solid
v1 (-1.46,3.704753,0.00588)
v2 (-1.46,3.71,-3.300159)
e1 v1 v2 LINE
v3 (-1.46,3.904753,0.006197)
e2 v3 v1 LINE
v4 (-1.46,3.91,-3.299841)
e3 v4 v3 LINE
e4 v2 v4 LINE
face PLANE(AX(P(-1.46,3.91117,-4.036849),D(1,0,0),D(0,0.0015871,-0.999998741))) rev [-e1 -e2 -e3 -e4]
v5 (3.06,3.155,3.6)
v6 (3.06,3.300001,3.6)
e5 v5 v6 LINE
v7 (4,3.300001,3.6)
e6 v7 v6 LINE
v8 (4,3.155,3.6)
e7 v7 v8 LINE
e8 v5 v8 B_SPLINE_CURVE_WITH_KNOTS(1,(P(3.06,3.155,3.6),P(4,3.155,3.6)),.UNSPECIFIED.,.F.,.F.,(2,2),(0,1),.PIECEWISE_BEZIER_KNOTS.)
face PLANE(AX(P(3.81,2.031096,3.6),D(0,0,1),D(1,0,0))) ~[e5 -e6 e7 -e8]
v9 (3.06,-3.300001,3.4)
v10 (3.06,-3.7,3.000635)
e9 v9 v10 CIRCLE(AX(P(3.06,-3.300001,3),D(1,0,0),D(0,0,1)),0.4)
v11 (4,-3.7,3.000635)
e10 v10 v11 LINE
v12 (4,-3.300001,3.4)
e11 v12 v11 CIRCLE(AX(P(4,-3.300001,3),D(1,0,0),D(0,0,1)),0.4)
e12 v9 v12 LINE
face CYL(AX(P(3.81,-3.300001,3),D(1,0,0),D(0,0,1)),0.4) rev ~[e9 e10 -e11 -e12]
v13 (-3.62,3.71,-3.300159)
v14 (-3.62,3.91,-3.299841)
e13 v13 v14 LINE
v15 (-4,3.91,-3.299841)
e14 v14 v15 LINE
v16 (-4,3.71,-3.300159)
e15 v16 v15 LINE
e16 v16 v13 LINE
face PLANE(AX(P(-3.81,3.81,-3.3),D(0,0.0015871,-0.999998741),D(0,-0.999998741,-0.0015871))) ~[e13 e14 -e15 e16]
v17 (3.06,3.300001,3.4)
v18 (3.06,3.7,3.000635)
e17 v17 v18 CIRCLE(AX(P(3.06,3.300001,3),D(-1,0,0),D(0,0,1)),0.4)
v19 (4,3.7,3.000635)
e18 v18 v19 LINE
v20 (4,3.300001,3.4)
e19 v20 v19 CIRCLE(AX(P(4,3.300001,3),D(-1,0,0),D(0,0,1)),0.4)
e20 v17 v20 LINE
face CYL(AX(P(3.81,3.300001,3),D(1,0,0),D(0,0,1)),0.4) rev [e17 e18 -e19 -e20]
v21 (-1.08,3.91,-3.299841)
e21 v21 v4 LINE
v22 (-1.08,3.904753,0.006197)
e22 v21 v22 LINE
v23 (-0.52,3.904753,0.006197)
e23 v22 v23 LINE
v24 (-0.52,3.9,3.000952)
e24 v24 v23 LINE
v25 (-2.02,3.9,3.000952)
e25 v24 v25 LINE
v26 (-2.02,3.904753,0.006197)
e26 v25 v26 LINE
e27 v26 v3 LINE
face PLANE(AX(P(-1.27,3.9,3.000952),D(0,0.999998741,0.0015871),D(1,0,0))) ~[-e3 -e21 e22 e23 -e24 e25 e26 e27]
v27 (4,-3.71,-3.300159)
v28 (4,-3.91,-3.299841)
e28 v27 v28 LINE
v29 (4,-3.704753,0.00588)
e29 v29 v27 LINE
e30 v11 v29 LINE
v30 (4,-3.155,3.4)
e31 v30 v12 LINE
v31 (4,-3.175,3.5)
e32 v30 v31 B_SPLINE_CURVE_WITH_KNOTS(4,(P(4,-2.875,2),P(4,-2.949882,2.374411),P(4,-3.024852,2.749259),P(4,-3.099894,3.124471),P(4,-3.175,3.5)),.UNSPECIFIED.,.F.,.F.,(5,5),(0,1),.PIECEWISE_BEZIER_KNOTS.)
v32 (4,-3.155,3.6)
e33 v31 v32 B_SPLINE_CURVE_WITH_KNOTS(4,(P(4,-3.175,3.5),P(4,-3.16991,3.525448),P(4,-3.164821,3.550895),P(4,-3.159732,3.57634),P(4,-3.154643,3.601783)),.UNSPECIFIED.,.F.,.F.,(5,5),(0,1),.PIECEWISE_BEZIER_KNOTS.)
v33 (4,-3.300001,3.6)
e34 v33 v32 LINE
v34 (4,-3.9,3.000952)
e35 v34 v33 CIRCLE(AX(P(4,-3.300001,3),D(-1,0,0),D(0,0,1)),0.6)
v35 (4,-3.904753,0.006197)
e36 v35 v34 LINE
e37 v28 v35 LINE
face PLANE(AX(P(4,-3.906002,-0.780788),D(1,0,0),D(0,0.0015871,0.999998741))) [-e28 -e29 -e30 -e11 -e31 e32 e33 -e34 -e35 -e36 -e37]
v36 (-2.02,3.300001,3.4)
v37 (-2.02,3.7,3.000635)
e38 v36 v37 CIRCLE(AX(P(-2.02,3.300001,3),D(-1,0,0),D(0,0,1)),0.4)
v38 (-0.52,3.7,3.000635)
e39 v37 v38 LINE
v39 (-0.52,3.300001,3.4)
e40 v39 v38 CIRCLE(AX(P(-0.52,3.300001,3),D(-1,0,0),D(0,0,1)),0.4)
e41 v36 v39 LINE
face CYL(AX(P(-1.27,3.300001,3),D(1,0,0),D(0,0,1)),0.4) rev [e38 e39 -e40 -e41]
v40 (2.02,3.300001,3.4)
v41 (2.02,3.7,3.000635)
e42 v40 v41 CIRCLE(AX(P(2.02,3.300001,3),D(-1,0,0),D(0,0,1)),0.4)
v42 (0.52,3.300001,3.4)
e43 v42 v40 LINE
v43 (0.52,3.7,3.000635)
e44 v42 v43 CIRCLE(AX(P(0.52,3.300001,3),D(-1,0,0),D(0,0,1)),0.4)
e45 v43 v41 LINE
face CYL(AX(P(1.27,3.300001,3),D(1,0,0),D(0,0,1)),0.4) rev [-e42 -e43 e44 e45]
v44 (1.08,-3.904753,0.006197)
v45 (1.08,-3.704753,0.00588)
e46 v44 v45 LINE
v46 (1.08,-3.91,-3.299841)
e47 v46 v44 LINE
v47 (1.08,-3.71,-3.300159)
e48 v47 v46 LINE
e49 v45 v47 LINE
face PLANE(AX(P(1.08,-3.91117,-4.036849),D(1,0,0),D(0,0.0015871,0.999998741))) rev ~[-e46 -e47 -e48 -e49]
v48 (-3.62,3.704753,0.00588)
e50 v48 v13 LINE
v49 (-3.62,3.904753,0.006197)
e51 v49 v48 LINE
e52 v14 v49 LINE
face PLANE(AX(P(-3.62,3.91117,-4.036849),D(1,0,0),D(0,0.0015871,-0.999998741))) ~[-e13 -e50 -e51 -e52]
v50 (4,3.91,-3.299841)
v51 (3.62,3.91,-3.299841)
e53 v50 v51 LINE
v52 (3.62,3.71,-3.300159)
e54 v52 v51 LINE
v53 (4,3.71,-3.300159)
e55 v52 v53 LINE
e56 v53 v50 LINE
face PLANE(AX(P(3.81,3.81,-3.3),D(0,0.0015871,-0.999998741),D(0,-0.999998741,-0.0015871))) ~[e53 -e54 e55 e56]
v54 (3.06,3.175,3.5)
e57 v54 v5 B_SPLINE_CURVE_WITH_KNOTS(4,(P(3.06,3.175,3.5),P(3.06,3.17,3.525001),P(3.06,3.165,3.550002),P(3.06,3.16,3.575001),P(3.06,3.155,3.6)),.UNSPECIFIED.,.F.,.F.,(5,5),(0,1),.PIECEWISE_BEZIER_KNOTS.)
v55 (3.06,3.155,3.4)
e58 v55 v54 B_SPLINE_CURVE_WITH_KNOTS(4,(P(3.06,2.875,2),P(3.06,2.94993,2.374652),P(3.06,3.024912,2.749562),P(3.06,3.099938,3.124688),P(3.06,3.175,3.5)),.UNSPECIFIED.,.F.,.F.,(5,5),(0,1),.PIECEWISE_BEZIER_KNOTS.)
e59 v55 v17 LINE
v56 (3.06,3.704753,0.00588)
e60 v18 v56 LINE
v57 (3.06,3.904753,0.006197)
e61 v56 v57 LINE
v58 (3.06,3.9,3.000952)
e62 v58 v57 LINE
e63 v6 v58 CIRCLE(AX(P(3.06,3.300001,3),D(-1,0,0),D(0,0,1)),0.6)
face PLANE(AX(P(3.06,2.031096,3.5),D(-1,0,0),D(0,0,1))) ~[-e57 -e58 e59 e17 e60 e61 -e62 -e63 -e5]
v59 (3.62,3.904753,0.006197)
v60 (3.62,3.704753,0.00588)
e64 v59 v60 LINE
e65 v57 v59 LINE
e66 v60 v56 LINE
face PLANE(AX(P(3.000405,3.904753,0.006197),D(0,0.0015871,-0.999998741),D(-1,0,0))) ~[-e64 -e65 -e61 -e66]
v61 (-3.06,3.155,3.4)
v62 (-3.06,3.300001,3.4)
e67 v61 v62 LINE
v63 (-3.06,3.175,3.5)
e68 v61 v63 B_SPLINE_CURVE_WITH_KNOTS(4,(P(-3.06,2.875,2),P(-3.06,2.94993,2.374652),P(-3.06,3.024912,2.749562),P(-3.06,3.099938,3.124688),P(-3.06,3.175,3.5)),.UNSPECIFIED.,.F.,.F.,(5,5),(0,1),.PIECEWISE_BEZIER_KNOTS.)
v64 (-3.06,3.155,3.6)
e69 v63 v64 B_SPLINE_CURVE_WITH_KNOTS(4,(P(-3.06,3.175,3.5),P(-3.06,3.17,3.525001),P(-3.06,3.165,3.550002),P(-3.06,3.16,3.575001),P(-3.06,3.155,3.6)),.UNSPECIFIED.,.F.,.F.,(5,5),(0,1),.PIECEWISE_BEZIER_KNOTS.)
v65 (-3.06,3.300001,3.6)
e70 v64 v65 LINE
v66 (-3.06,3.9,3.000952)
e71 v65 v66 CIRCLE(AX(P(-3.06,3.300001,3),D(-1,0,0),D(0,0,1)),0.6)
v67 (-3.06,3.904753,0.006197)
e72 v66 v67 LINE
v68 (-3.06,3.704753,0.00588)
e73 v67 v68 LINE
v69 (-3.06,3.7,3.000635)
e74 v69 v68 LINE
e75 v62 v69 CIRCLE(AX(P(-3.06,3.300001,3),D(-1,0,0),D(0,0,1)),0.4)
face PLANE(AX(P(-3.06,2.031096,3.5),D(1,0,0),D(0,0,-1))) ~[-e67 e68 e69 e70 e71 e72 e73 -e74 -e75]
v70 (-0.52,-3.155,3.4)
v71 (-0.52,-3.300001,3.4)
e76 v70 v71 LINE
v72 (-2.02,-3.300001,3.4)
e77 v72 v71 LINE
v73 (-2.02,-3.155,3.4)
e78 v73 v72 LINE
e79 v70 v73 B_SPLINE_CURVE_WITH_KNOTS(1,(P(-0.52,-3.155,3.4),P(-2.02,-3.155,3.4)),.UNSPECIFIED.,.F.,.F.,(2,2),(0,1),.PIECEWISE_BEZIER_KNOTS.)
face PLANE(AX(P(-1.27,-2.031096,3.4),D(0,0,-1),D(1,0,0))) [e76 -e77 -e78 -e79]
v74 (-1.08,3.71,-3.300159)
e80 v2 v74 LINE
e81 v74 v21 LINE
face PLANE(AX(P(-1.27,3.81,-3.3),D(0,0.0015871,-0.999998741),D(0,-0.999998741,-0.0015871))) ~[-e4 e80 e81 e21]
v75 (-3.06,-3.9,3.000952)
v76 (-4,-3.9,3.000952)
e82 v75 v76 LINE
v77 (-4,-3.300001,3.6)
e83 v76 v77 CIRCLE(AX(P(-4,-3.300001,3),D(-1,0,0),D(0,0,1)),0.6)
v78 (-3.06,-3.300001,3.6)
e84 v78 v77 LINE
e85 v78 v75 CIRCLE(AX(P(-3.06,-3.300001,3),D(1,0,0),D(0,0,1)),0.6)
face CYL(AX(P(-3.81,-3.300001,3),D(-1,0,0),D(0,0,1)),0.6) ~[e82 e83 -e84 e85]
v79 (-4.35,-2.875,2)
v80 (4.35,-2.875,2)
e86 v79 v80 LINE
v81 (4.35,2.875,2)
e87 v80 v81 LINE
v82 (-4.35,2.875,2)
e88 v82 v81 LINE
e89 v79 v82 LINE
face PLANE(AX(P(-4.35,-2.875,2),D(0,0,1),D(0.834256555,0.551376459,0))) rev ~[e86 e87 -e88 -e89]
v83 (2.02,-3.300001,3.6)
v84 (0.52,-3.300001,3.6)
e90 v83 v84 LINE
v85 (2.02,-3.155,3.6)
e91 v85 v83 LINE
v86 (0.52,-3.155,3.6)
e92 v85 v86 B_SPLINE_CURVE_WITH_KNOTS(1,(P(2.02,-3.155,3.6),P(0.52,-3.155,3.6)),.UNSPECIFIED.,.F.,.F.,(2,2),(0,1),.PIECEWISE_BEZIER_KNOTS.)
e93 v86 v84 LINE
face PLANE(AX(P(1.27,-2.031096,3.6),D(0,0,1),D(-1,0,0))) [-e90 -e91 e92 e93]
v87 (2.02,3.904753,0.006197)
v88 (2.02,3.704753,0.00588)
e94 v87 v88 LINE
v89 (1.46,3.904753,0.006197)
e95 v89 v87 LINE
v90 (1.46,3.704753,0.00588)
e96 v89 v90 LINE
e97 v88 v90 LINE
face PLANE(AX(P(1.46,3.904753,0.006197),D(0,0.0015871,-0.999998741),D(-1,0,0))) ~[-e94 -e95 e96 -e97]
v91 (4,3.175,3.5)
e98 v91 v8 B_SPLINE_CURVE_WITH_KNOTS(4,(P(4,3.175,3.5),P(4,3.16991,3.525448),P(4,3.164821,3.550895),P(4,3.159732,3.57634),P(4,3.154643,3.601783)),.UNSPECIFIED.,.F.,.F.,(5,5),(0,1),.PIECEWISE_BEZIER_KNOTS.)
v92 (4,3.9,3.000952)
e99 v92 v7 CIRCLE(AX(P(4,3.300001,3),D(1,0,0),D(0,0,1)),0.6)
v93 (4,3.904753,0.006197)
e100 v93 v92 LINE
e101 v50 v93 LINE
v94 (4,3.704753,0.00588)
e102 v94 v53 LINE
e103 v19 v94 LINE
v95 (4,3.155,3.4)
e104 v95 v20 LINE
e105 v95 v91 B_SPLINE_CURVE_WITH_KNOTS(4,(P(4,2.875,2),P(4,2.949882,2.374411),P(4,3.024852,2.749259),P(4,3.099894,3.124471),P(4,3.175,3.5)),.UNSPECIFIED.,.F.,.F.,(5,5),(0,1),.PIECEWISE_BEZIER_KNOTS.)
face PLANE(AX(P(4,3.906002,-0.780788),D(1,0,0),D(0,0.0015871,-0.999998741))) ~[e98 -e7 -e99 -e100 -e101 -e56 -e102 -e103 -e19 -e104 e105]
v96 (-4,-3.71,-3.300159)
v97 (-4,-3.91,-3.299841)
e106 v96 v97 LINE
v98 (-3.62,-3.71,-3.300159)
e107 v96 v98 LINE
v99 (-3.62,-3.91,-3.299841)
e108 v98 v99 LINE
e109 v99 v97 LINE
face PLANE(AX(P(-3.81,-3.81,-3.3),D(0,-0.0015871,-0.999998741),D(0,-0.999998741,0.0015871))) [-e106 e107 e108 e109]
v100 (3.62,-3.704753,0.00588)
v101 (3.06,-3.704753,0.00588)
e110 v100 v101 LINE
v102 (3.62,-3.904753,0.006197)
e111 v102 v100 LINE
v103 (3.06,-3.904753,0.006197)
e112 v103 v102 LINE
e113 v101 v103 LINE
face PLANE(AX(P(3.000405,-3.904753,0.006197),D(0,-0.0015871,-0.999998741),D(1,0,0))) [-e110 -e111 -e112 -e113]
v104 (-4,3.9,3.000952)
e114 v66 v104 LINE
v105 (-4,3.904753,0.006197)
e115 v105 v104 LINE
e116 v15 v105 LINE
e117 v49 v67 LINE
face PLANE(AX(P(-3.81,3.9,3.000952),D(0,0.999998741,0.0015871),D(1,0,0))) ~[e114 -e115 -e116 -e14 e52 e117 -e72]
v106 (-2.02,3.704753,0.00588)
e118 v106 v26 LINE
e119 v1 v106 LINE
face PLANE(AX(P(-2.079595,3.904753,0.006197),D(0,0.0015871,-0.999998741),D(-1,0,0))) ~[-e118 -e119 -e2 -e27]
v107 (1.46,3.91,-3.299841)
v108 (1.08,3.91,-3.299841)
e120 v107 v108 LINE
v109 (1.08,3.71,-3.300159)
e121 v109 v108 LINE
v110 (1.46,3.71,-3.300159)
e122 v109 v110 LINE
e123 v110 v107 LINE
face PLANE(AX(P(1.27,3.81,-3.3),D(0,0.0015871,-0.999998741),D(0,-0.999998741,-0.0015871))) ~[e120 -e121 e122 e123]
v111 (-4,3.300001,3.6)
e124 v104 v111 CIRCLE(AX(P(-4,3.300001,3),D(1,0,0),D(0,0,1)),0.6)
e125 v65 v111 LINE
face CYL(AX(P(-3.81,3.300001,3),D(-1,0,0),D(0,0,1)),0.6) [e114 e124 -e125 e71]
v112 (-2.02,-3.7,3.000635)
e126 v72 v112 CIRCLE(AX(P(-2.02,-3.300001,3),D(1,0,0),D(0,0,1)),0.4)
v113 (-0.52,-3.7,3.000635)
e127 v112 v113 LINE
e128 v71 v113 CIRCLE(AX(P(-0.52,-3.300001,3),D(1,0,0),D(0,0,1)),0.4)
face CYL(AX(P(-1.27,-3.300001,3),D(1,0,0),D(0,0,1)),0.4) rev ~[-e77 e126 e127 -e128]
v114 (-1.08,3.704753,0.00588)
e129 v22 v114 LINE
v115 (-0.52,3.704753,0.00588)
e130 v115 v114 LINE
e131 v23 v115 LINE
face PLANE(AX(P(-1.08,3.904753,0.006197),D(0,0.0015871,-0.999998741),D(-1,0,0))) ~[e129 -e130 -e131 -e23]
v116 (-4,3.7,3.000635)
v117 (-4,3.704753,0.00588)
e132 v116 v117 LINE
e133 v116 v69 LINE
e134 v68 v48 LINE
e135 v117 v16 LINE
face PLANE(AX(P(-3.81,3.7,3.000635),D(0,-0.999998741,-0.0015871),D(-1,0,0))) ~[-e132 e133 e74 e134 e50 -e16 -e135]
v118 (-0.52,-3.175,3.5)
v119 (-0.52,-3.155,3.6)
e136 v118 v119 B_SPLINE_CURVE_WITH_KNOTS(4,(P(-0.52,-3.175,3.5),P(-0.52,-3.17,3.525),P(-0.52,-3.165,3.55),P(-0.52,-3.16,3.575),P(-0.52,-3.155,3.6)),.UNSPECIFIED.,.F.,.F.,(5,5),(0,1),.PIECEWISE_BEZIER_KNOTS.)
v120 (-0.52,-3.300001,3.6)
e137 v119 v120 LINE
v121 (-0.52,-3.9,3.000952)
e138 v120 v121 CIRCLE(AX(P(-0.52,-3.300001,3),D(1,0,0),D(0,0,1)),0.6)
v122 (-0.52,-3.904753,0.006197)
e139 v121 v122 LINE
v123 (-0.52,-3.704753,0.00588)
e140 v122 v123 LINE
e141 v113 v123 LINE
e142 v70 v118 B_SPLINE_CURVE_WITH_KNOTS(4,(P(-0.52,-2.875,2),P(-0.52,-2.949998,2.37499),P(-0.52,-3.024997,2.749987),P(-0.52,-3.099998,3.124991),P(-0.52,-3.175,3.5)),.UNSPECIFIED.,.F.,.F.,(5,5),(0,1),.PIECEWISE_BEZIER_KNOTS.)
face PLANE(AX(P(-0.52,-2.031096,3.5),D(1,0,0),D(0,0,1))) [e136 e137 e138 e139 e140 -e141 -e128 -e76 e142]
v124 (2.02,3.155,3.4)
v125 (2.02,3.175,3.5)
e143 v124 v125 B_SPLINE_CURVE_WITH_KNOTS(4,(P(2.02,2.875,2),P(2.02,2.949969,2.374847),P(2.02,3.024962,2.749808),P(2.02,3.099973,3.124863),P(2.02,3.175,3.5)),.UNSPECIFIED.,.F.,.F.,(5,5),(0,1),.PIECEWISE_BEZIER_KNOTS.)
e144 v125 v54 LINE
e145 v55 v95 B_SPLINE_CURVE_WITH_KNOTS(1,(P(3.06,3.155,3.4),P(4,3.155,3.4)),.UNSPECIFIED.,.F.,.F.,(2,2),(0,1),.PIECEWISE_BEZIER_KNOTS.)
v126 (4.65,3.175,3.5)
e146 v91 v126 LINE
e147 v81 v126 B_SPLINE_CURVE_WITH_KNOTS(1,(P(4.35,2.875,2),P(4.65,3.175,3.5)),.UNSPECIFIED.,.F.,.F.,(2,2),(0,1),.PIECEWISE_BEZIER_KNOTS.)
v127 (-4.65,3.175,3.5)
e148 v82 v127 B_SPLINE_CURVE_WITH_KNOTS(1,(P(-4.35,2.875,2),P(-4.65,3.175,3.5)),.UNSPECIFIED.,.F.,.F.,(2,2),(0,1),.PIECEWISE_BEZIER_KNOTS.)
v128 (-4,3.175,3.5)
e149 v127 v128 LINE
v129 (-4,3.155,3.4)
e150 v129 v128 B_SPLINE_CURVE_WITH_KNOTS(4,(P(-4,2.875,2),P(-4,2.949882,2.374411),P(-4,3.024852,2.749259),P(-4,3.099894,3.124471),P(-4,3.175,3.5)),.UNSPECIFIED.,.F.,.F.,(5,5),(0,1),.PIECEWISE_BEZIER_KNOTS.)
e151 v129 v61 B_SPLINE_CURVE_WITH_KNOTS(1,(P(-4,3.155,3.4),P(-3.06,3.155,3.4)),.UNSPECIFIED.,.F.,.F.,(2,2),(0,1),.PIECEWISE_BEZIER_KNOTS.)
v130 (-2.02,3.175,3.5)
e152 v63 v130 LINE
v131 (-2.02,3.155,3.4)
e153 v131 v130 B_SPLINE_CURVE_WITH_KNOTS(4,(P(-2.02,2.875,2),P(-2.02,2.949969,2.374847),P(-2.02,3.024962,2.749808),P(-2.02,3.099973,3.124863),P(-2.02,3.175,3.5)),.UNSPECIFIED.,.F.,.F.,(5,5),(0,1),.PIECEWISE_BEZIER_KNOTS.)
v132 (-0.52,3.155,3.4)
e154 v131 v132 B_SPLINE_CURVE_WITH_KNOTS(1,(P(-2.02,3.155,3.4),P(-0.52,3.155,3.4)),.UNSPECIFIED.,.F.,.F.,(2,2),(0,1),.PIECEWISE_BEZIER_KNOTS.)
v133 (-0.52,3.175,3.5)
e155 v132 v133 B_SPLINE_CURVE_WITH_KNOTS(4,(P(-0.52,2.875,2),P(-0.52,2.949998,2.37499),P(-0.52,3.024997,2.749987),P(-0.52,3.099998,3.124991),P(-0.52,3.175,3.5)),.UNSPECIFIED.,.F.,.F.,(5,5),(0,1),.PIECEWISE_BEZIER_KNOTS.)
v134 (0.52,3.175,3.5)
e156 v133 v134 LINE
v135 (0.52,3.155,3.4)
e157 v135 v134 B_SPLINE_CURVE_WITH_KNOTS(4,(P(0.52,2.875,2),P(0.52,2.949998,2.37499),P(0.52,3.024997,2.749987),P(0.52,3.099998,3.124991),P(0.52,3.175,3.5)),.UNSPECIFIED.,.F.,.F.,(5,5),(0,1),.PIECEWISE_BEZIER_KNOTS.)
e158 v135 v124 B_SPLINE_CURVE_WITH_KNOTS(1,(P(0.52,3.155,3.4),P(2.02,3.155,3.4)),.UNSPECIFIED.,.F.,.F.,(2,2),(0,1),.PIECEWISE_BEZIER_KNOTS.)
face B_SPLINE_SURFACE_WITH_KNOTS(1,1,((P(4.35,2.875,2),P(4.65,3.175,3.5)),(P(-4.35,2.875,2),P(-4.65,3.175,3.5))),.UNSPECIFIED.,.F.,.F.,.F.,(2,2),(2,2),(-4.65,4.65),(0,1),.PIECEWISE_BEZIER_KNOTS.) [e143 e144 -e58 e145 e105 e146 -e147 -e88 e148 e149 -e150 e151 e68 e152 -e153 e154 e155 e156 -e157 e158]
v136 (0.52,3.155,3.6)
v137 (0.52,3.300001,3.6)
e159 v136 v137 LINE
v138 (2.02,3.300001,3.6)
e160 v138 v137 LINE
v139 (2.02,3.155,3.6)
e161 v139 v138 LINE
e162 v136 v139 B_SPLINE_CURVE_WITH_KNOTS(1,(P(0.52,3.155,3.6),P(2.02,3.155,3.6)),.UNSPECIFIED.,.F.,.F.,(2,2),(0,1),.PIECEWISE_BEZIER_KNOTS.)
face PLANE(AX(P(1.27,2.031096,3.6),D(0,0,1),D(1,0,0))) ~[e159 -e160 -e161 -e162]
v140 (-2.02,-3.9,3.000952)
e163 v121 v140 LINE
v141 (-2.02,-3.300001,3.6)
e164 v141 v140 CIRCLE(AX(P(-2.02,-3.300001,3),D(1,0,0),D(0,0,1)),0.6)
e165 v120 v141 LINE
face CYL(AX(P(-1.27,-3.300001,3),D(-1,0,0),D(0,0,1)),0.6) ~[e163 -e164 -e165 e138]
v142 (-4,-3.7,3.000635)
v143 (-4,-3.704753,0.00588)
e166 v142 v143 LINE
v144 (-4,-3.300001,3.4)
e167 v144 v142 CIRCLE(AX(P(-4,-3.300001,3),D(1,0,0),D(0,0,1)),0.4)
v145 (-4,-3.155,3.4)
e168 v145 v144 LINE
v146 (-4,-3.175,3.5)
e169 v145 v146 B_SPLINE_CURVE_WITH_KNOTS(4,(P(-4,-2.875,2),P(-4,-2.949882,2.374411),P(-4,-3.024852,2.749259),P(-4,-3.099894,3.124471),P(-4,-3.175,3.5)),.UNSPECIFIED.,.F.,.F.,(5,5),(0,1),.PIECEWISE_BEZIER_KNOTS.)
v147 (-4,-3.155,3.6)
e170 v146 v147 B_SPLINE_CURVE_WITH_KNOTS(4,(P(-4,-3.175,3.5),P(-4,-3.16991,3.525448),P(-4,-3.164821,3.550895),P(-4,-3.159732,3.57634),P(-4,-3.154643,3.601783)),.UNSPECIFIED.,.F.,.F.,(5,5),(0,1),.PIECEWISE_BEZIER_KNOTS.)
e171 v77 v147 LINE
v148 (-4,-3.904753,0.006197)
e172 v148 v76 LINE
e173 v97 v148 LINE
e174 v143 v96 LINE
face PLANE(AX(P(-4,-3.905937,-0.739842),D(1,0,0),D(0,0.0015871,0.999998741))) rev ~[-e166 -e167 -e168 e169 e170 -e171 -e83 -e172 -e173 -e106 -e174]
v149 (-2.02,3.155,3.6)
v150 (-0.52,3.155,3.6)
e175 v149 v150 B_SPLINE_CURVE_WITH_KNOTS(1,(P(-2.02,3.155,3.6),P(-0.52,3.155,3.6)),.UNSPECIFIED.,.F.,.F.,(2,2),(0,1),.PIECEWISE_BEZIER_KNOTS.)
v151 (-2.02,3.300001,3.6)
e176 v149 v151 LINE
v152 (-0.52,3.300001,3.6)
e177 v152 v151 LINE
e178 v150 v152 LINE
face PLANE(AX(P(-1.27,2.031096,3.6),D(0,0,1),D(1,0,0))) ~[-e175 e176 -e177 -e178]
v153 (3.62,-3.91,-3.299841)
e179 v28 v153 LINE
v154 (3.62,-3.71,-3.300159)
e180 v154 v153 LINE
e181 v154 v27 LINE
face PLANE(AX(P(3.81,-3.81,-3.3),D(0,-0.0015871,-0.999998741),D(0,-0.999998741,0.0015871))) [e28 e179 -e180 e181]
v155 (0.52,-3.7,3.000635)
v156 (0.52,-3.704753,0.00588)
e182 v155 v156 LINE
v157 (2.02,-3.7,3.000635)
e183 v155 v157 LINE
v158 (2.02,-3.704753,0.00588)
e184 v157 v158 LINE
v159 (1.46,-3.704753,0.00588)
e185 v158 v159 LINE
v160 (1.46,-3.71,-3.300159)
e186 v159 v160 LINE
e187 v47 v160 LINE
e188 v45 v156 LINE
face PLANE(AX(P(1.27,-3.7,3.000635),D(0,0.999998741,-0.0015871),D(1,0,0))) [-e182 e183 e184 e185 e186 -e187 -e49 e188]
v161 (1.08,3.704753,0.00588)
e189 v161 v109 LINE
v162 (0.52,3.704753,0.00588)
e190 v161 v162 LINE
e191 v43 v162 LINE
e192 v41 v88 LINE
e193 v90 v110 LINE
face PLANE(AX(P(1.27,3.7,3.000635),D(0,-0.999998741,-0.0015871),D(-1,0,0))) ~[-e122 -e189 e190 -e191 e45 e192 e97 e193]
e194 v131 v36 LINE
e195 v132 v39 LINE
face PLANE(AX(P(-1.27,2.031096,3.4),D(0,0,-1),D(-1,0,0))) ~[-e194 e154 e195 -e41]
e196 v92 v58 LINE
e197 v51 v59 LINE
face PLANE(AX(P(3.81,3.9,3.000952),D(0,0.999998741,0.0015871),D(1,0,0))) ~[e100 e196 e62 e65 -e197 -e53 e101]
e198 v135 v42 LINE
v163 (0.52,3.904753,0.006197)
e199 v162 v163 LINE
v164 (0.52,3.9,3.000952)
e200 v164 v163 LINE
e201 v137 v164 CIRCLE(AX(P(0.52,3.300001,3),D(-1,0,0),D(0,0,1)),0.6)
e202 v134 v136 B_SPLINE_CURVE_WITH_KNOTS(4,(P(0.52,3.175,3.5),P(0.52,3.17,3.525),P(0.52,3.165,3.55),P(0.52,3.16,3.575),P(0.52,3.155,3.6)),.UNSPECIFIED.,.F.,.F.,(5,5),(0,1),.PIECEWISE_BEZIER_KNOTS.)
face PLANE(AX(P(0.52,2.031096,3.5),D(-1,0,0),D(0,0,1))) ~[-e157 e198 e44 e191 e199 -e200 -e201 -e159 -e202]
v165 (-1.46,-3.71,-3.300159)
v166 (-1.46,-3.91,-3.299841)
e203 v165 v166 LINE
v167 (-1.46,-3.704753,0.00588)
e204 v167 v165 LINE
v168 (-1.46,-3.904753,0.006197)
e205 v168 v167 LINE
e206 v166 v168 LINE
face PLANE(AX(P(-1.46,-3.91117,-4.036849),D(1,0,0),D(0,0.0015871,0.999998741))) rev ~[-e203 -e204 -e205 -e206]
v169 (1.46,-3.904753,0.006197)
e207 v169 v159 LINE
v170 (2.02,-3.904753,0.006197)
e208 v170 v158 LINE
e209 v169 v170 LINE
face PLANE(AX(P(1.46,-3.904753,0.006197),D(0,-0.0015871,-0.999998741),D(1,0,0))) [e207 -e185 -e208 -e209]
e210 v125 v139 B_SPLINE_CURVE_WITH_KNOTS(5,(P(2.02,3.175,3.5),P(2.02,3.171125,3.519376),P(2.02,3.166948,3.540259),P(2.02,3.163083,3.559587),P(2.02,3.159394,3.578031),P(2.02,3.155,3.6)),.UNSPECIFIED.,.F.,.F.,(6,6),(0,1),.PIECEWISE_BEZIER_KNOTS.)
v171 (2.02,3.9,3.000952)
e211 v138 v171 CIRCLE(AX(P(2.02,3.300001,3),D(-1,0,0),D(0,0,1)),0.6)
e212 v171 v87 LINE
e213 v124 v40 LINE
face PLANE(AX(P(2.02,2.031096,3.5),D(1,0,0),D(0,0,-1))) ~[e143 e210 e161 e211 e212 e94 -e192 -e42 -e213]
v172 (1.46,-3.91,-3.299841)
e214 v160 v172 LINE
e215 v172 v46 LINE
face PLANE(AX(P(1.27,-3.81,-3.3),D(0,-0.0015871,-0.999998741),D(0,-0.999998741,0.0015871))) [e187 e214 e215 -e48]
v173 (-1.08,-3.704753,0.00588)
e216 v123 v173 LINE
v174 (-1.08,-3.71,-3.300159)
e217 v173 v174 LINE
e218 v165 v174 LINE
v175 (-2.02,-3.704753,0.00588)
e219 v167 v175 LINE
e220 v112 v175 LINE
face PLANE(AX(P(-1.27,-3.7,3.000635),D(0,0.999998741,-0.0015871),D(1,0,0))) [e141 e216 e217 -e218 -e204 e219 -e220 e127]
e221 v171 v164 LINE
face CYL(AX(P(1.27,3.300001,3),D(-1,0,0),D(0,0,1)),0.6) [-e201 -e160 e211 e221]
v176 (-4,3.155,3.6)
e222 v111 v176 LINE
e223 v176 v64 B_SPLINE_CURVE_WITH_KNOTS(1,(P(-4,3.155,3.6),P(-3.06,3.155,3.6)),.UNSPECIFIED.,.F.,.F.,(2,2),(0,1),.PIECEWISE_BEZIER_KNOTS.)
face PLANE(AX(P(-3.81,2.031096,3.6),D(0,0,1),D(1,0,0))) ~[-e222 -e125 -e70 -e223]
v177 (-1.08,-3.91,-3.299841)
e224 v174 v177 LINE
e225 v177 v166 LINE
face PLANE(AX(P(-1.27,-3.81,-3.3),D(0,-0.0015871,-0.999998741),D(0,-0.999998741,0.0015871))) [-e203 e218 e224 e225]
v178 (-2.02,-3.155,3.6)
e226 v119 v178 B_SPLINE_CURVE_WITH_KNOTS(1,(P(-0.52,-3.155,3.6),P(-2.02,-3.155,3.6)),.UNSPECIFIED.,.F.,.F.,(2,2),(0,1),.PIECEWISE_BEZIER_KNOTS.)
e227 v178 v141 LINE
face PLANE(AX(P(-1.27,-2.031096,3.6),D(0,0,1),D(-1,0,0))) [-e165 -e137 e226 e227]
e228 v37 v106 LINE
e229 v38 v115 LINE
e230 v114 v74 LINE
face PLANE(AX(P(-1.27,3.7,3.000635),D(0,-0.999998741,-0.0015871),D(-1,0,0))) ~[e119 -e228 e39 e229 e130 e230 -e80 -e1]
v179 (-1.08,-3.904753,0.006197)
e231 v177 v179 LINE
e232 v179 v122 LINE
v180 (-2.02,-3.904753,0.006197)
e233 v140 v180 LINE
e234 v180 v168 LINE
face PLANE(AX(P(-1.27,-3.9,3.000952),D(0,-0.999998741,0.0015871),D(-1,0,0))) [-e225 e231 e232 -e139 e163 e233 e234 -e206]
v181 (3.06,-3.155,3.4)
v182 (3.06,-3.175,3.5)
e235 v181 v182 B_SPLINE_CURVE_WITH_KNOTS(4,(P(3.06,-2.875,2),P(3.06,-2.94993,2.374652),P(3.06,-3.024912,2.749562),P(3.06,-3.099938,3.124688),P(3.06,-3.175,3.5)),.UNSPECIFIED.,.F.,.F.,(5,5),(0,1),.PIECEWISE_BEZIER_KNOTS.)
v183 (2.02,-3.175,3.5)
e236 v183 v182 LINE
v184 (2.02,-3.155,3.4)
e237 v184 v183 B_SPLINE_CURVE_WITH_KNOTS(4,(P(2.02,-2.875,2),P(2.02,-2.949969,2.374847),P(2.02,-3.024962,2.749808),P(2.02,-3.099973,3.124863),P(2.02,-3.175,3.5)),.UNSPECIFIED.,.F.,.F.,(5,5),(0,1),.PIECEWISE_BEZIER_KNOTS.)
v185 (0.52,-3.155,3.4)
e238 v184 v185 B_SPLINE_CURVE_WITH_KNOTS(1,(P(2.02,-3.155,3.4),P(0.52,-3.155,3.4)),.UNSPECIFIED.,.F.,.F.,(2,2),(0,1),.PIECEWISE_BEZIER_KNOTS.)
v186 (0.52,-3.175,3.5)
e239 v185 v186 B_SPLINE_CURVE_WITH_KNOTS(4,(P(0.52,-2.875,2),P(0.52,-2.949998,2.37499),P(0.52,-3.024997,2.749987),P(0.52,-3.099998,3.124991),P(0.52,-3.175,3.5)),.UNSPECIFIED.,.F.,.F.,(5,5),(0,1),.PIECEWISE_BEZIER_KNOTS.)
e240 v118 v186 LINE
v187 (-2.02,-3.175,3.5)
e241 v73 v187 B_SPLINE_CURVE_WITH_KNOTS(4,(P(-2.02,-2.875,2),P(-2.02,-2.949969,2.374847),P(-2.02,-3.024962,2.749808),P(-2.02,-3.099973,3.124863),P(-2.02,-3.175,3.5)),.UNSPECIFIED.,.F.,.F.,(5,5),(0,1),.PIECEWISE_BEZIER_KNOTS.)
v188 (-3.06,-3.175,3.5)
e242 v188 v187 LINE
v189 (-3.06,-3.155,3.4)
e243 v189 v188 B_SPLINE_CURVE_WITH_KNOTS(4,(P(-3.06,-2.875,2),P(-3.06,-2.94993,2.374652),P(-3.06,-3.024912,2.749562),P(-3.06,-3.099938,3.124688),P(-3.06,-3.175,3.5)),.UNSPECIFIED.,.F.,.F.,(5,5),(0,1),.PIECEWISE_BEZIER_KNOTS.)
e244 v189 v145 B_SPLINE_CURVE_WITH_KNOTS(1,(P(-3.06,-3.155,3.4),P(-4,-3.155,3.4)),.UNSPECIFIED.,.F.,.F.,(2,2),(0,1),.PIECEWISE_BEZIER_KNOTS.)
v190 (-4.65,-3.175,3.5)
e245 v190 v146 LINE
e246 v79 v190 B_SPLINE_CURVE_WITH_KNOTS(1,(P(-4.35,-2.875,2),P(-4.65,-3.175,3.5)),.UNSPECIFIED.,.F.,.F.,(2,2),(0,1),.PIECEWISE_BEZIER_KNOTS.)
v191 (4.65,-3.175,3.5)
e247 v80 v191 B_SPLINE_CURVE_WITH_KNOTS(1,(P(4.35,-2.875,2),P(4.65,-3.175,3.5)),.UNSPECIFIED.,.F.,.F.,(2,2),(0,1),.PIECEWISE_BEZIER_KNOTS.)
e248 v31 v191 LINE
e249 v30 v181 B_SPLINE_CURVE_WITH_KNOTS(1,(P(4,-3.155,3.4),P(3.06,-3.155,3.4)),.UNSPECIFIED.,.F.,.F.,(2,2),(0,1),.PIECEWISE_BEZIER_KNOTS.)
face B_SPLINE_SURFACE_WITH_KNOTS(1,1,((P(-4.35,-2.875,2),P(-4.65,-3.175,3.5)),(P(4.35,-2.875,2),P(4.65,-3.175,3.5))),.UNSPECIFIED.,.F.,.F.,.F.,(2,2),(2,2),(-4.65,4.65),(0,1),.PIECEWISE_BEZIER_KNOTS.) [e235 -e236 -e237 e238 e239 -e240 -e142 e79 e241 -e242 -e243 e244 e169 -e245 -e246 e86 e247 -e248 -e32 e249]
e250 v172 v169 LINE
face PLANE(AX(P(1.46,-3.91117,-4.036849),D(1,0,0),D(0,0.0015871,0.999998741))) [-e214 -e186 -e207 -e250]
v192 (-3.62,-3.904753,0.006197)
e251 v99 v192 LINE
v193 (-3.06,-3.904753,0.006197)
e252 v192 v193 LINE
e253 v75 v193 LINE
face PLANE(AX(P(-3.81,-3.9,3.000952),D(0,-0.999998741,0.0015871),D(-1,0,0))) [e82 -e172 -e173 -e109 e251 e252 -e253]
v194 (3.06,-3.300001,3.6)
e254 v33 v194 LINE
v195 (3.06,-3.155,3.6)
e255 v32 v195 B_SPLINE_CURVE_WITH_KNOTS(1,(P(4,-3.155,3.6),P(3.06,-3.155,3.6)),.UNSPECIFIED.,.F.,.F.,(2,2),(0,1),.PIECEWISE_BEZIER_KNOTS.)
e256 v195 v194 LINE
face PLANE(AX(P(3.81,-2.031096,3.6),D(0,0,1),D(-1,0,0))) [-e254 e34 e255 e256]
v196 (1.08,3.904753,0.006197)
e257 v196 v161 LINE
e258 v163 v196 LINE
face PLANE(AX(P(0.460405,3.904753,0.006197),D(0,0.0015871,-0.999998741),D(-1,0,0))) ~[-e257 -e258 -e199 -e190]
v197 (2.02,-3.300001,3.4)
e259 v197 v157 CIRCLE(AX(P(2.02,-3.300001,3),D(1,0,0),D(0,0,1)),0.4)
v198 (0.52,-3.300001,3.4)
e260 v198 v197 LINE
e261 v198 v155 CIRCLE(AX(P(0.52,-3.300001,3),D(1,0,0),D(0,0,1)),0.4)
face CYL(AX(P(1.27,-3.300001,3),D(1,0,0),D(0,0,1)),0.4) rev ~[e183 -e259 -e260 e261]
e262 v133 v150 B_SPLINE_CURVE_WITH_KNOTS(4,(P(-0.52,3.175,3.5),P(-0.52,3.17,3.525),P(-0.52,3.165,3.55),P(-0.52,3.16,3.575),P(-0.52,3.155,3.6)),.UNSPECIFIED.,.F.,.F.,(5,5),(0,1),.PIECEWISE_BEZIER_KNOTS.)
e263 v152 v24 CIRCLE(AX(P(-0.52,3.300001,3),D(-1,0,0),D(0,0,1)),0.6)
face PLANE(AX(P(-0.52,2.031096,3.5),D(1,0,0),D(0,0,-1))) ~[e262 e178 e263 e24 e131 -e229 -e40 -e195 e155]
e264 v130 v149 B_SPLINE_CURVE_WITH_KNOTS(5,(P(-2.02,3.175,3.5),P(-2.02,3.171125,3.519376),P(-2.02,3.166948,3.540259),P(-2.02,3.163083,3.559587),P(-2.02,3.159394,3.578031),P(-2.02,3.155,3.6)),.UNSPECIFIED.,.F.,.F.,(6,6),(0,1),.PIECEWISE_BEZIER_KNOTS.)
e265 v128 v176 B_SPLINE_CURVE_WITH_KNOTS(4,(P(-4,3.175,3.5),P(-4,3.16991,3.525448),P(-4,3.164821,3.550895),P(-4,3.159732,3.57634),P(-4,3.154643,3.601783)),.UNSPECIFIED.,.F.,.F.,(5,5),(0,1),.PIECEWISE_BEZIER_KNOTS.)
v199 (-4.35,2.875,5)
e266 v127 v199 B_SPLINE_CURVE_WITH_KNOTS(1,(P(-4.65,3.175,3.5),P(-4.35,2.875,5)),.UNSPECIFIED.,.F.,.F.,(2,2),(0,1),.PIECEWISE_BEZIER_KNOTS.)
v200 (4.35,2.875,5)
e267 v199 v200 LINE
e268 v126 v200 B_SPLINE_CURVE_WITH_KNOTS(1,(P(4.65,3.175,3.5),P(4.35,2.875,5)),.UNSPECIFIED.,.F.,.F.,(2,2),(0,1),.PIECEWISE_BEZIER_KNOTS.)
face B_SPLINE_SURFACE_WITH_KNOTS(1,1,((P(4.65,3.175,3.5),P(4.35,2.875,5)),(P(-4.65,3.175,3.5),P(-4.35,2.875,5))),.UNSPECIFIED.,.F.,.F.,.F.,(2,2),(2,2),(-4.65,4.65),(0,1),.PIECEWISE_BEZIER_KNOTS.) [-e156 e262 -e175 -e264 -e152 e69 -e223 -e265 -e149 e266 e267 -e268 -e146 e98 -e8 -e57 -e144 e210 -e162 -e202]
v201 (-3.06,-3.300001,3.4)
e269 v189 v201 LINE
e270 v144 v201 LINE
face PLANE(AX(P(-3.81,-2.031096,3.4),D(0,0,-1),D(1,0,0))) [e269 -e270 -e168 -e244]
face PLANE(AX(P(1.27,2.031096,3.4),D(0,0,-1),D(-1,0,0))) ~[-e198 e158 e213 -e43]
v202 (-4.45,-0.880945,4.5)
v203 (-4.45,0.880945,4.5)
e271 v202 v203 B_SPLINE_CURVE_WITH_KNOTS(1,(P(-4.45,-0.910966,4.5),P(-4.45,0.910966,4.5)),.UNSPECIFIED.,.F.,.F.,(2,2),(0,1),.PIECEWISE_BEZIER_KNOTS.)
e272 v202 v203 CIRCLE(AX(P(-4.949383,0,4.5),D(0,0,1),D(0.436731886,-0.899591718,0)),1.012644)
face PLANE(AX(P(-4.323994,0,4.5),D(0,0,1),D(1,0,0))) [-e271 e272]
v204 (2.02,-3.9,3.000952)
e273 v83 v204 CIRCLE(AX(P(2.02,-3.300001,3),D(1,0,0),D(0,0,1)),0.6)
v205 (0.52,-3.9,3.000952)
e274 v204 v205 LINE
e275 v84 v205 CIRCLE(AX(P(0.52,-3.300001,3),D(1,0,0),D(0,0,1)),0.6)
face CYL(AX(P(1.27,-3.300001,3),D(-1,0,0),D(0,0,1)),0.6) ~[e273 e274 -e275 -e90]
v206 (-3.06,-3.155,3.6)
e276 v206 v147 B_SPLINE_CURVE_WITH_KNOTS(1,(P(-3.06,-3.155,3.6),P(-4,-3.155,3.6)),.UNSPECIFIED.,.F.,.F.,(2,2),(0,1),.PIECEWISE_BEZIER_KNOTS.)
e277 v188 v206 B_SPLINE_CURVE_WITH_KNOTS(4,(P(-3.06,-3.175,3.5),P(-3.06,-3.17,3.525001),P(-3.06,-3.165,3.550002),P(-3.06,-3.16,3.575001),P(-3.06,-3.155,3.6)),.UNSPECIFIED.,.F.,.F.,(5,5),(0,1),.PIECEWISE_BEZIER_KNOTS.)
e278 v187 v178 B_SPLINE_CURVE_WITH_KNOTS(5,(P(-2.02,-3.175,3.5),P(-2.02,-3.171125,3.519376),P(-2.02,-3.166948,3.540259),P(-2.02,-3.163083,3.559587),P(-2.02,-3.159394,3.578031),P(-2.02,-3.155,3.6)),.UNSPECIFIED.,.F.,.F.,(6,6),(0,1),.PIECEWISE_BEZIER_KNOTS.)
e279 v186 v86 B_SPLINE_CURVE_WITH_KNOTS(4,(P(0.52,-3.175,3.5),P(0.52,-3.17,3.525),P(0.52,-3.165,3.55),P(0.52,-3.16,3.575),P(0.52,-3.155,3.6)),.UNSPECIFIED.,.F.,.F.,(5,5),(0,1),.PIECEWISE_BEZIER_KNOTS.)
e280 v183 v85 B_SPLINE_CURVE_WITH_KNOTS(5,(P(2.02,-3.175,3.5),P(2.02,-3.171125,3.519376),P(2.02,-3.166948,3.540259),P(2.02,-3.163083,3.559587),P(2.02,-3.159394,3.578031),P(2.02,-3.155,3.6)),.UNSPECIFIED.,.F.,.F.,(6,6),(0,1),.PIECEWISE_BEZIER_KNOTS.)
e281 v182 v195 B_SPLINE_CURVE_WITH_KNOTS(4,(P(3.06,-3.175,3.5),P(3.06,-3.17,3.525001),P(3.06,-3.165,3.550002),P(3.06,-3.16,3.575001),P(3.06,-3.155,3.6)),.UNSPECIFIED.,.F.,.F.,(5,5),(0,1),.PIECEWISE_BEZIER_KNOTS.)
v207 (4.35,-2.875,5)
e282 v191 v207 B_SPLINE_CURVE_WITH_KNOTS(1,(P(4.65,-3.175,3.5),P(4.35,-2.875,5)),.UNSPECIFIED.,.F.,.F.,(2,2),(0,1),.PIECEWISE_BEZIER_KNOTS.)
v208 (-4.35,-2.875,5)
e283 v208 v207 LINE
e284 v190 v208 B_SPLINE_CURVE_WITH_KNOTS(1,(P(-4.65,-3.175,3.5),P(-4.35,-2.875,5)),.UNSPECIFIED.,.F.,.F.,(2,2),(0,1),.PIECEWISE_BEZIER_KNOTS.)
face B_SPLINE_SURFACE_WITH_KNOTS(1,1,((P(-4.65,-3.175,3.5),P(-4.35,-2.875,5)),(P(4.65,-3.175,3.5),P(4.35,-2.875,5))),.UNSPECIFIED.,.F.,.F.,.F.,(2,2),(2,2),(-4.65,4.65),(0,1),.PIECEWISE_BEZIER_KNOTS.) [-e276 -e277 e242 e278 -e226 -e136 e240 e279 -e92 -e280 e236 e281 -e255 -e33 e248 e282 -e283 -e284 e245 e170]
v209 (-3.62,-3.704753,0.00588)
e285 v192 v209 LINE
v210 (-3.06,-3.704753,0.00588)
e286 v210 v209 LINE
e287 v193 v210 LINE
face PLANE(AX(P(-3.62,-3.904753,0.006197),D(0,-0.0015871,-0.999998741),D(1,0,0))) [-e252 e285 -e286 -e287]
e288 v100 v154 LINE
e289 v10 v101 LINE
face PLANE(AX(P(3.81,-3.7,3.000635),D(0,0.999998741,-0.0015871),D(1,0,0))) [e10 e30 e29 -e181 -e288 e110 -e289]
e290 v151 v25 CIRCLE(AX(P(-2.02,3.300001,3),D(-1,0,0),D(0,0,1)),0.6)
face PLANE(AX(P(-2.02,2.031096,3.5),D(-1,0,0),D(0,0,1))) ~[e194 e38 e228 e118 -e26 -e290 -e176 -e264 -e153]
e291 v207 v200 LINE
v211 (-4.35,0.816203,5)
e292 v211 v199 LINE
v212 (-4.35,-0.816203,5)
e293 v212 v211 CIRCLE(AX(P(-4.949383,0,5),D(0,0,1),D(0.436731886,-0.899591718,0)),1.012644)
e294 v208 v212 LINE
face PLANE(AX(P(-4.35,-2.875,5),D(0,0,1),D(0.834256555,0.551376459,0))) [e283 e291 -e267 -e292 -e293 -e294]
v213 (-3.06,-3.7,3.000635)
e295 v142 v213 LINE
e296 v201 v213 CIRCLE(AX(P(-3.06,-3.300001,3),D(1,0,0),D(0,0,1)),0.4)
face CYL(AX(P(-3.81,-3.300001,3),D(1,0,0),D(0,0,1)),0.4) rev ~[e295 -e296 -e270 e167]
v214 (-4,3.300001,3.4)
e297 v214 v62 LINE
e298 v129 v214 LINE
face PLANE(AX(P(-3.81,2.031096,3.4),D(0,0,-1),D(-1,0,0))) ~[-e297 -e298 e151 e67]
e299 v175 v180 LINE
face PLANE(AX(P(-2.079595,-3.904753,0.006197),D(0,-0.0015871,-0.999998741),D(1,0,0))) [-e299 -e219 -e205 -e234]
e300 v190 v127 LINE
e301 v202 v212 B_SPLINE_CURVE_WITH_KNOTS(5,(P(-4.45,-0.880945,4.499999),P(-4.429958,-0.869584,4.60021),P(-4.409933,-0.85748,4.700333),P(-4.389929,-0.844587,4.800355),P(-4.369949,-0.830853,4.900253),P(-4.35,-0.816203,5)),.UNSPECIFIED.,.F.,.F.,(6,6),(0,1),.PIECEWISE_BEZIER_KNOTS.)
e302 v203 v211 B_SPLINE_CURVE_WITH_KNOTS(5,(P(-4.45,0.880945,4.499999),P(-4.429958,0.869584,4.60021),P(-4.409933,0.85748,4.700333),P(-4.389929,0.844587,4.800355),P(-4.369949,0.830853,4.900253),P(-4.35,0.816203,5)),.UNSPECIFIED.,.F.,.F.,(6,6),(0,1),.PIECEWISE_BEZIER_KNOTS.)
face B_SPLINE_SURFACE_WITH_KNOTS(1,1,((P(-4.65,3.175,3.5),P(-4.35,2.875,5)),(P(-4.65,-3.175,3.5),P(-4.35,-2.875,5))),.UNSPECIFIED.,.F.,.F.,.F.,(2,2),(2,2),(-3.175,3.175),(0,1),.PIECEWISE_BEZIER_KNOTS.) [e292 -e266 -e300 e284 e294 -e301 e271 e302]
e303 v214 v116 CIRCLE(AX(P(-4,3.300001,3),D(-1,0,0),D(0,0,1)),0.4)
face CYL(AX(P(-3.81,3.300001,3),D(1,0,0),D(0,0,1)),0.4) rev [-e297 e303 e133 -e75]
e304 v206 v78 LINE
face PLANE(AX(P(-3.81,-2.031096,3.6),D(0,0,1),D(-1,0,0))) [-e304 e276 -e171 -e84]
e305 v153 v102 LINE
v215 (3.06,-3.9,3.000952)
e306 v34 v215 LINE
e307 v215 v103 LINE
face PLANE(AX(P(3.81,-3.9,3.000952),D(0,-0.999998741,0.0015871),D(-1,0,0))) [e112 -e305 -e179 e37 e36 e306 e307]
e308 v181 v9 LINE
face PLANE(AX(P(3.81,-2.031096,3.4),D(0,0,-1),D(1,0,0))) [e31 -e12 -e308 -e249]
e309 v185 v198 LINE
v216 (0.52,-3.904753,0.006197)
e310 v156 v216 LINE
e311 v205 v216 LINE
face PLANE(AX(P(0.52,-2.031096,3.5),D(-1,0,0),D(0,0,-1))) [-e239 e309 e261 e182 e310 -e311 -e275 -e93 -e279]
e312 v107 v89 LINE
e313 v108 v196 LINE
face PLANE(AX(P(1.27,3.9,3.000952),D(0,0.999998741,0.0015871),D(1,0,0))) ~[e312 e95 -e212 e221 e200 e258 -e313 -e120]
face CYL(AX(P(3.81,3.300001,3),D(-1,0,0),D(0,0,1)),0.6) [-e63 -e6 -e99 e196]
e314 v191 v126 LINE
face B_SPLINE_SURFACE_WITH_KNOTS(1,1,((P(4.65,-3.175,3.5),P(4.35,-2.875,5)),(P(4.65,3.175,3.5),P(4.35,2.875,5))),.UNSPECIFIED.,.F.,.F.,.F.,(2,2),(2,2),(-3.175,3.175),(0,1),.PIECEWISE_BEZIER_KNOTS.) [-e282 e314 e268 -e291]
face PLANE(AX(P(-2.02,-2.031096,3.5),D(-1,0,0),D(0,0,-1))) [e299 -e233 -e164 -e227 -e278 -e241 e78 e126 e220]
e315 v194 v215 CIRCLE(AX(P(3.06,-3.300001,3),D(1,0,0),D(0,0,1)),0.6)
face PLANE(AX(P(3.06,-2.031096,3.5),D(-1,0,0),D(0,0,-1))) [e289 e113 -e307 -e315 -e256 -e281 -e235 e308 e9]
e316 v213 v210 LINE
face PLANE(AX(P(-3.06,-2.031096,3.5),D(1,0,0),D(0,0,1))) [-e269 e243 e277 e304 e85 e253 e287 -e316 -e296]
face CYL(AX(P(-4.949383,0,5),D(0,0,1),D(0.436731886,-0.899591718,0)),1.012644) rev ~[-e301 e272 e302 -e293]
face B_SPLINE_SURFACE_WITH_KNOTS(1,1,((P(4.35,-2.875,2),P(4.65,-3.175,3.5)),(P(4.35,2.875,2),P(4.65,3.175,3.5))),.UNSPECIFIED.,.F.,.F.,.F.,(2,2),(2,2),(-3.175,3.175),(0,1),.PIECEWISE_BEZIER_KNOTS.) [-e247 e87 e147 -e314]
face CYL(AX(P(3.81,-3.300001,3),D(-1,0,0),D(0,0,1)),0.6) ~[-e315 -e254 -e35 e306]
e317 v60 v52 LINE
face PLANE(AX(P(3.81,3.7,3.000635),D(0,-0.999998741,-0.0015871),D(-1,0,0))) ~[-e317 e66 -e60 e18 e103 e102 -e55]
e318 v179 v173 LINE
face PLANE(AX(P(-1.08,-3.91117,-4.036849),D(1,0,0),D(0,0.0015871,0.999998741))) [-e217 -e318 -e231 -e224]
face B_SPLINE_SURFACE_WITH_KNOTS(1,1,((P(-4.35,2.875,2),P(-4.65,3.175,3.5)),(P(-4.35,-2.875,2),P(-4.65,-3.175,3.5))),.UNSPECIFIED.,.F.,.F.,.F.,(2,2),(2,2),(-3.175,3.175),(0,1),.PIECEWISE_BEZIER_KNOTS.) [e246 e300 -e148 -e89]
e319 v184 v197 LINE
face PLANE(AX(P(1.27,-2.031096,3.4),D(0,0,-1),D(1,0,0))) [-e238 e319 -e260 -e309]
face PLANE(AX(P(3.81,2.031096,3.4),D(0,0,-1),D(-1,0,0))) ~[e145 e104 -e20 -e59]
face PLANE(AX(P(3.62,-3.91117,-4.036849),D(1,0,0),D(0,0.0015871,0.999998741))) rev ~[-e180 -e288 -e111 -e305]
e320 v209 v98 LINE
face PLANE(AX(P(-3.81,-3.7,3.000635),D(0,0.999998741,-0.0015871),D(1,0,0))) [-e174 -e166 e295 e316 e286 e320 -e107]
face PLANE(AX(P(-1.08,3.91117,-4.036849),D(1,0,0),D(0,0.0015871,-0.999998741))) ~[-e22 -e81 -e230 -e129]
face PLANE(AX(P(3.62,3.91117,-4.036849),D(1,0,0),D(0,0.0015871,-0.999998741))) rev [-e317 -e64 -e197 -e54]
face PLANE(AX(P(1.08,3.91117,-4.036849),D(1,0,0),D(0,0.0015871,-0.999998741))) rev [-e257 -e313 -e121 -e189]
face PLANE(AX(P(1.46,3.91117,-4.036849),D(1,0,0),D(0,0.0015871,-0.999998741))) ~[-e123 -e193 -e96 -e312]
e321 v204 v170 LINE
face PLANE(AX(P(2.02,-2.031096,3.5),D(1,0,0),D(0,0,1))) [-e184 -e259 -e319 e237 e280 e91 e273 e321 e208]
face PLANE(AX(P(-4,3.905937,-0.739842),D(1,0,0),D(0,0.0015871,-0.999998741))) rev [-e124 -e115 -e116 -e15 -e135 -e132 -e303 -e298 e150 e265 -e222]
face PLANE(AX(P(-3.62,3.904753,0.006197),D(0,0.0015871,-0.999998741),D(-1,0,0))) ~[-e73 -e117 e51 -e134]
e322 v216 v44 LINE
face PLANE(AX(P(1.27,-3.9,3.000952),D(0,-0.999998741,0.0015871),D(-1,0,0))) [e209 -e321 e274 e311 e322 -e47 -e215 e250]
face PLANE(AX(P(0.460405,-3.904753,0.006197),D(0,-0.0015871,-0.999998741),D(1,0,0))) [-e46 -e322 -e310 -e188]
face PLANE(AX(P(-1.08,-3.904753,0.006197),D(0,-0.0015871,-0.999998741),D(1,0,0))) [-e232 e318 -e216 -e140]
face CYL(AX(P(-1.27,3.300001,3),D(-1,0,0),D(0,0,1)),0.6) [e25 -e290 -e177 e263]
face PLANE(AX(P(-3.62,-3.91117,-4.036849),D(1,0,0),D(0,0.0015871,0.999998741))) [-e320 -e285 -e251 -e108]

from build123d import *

# Parameters (mm, degrees)
F4_W      = 8.7
F4_H      = 5.75
F3_W      = 9.3
F3_H      = 6.35
F5_W      = 8.7
F5_H      = 5.75
F9_DEPTH  = 0.5
F12_W     = 1.5
F12_H     = 0.2
F14_W     = 0.6195948031
F14_H     = 4.0430515073
F15_DEPTH = 25
F20_W     = 1.304730963
F20_H     = 4.4884709641
F21_DEPTH = 25
F22_W     = 1.5146217346
F22_H     = 4.5125598554
F23_DEPTH = 25


with BuildPart() as f6:
    # F4 (on offset) → F6 section 0
    with BuildSketch(Plane.XY.offset(2)):
        Rectangle(F4_W, F4_H)
    # F3 (on offset) → F6 section 1
    with BuildSketch(Plane.XY.offset(3.5)):
        Rectangle(F3_W, F3_H)
    loft()

    # F3 (on offset) → F7 section 0
    with BuildSketch(Plane.XY.offset(3.5)):
        Rectangle(F3_W, F3_H)
    # F5 (on offset) → F7 section 1
    with BuildSketch(Plane.XY.offset(5)):
        Rectangle(F5_W, F5_H)
    loft()

    # F8 (on face) → F9 (cut)
    with BuildSketch(Plane.XY.offset(5)):
        with BuildLine():
            Line((-4.5071290817, 0.9109661553), (-4.5071290817, -0.9109661553))
            ThreePointArc((-4.5071290817, -0.9109661553), (-3.936739006, 0), (-4.5071290817, 0.9109661553))
        make_face()
    extrude(amount=-F9_DEPTH, mode=Mode.SUBTRACT)



with BuildPart() as f13:
    # F13: sweep along a path in F10
    with BuildLine(Plane.YZ) as f13_path:
        Line((-2.0310959943, 3.5), (-3.3000006297, 3.5))
        ThreePointArc((-3.3000006297, 3.5), (-3.6532733467, 3.3538338416), (-3.8, 3.0007935498))
        Line((-3.8, 3.0007935498), (-3.81, -3.3))
    # F12 (on line) → F13 (sweep)
    with BuildSketch(Plane(origin=(0, -0.0052470193, -3.3060385298), x_dir=(1, 0, 0), z_dir=(0, -0.0015870997, -0.9999987406))):
        with Locations((0, 3.8047577726)):
            Rectangle(F12_W, F12_H)
    sweep(path=f13_path.line)

    # F14 (on face) → F15 (cut)
    with BuildSketch(Plane(origin=(0, -3.9047528548, 0.0061972398), x_dir=(1, 0, 0), z_dir=(0, -0.9999987406, 0.0015870997))):
        with Locations((-0.4997974016, -2.0215257537)):
            Rectangle(F14_W, F14_H)
        with Locations((0.4997974016, -2.0215257537)):
            Rectangle(F14_W, F14_H)
    extrude(amount=-F15_DEPTH, mode=Mode.SUBTRACT)


with BuildPart() as f13_1:
    # F16: moved
    add(f13.part.moved(Location((-1.27, 0, 0))))


with BuildPart() as f17_1:
    # F17: copy of F13
    add(f13_1.part.moved(Location((2.54, 0, 0))))


with BuildPart() as f18_1:
    # F18: copy of F13
    add(f13_1.part.moved(Location((-2.54, 0, 0))))

    # F20 (on face) → F21 (cut)
    with BuildSketch(Plane(origin=(0, -3.9047528548, 0.0061972398), x_dir=(1, 0, 0), z_dir=(0, -0.9999987406, 0.0015870997))):
        with Locations((-4.6523654815, 1.4981951099)):
            Rectangle(F20_W, F20_H)
    extrude(amount=-F21_DEPTH, mode=Mode.SUBTRACT)


with BuildPart() as f19_1:
    # F19: copy of F17_1
    add(f17_1.part.moved(Location((2.54, 0, 0))))

    # F22 (on face) → F23 (cut)
    with BuildSketch(Plane(origin=(0, -3.9047528548, 0.0061972398), x_dir=(1, 0, 0), z_dir=(0, -0.9999987406, 0.0015870997))):
        with Locations((4.7573108673, 1.4692934928)):
            Rectangle(F22_W, F22_H)
    extrude(amount=-F23_DEPTH, mode=Mode.SUBTRACT)


with BuildPart() as f6_1:
    add(f6.part)

    add(f13_1.part)  # F24 merges F13

    add(f17_1.part)  # F24 merges F17_1

    add(f18_1.part)  # F24 merges F18_1

    add(f19_1.part)  # F24 merges F19_1
    # F24: F18_1, F13, F17_1, F19_1 across plane
    add(f18_1.part.mirror(Plane.XZ))
    add(f13_1.part.mirror(Plane.XZ))
    add(f17_1.part.mirror(Plane.XZ))
    add(f19_1.part.mirror(Plane.XZ))


solid = f6_1.part
